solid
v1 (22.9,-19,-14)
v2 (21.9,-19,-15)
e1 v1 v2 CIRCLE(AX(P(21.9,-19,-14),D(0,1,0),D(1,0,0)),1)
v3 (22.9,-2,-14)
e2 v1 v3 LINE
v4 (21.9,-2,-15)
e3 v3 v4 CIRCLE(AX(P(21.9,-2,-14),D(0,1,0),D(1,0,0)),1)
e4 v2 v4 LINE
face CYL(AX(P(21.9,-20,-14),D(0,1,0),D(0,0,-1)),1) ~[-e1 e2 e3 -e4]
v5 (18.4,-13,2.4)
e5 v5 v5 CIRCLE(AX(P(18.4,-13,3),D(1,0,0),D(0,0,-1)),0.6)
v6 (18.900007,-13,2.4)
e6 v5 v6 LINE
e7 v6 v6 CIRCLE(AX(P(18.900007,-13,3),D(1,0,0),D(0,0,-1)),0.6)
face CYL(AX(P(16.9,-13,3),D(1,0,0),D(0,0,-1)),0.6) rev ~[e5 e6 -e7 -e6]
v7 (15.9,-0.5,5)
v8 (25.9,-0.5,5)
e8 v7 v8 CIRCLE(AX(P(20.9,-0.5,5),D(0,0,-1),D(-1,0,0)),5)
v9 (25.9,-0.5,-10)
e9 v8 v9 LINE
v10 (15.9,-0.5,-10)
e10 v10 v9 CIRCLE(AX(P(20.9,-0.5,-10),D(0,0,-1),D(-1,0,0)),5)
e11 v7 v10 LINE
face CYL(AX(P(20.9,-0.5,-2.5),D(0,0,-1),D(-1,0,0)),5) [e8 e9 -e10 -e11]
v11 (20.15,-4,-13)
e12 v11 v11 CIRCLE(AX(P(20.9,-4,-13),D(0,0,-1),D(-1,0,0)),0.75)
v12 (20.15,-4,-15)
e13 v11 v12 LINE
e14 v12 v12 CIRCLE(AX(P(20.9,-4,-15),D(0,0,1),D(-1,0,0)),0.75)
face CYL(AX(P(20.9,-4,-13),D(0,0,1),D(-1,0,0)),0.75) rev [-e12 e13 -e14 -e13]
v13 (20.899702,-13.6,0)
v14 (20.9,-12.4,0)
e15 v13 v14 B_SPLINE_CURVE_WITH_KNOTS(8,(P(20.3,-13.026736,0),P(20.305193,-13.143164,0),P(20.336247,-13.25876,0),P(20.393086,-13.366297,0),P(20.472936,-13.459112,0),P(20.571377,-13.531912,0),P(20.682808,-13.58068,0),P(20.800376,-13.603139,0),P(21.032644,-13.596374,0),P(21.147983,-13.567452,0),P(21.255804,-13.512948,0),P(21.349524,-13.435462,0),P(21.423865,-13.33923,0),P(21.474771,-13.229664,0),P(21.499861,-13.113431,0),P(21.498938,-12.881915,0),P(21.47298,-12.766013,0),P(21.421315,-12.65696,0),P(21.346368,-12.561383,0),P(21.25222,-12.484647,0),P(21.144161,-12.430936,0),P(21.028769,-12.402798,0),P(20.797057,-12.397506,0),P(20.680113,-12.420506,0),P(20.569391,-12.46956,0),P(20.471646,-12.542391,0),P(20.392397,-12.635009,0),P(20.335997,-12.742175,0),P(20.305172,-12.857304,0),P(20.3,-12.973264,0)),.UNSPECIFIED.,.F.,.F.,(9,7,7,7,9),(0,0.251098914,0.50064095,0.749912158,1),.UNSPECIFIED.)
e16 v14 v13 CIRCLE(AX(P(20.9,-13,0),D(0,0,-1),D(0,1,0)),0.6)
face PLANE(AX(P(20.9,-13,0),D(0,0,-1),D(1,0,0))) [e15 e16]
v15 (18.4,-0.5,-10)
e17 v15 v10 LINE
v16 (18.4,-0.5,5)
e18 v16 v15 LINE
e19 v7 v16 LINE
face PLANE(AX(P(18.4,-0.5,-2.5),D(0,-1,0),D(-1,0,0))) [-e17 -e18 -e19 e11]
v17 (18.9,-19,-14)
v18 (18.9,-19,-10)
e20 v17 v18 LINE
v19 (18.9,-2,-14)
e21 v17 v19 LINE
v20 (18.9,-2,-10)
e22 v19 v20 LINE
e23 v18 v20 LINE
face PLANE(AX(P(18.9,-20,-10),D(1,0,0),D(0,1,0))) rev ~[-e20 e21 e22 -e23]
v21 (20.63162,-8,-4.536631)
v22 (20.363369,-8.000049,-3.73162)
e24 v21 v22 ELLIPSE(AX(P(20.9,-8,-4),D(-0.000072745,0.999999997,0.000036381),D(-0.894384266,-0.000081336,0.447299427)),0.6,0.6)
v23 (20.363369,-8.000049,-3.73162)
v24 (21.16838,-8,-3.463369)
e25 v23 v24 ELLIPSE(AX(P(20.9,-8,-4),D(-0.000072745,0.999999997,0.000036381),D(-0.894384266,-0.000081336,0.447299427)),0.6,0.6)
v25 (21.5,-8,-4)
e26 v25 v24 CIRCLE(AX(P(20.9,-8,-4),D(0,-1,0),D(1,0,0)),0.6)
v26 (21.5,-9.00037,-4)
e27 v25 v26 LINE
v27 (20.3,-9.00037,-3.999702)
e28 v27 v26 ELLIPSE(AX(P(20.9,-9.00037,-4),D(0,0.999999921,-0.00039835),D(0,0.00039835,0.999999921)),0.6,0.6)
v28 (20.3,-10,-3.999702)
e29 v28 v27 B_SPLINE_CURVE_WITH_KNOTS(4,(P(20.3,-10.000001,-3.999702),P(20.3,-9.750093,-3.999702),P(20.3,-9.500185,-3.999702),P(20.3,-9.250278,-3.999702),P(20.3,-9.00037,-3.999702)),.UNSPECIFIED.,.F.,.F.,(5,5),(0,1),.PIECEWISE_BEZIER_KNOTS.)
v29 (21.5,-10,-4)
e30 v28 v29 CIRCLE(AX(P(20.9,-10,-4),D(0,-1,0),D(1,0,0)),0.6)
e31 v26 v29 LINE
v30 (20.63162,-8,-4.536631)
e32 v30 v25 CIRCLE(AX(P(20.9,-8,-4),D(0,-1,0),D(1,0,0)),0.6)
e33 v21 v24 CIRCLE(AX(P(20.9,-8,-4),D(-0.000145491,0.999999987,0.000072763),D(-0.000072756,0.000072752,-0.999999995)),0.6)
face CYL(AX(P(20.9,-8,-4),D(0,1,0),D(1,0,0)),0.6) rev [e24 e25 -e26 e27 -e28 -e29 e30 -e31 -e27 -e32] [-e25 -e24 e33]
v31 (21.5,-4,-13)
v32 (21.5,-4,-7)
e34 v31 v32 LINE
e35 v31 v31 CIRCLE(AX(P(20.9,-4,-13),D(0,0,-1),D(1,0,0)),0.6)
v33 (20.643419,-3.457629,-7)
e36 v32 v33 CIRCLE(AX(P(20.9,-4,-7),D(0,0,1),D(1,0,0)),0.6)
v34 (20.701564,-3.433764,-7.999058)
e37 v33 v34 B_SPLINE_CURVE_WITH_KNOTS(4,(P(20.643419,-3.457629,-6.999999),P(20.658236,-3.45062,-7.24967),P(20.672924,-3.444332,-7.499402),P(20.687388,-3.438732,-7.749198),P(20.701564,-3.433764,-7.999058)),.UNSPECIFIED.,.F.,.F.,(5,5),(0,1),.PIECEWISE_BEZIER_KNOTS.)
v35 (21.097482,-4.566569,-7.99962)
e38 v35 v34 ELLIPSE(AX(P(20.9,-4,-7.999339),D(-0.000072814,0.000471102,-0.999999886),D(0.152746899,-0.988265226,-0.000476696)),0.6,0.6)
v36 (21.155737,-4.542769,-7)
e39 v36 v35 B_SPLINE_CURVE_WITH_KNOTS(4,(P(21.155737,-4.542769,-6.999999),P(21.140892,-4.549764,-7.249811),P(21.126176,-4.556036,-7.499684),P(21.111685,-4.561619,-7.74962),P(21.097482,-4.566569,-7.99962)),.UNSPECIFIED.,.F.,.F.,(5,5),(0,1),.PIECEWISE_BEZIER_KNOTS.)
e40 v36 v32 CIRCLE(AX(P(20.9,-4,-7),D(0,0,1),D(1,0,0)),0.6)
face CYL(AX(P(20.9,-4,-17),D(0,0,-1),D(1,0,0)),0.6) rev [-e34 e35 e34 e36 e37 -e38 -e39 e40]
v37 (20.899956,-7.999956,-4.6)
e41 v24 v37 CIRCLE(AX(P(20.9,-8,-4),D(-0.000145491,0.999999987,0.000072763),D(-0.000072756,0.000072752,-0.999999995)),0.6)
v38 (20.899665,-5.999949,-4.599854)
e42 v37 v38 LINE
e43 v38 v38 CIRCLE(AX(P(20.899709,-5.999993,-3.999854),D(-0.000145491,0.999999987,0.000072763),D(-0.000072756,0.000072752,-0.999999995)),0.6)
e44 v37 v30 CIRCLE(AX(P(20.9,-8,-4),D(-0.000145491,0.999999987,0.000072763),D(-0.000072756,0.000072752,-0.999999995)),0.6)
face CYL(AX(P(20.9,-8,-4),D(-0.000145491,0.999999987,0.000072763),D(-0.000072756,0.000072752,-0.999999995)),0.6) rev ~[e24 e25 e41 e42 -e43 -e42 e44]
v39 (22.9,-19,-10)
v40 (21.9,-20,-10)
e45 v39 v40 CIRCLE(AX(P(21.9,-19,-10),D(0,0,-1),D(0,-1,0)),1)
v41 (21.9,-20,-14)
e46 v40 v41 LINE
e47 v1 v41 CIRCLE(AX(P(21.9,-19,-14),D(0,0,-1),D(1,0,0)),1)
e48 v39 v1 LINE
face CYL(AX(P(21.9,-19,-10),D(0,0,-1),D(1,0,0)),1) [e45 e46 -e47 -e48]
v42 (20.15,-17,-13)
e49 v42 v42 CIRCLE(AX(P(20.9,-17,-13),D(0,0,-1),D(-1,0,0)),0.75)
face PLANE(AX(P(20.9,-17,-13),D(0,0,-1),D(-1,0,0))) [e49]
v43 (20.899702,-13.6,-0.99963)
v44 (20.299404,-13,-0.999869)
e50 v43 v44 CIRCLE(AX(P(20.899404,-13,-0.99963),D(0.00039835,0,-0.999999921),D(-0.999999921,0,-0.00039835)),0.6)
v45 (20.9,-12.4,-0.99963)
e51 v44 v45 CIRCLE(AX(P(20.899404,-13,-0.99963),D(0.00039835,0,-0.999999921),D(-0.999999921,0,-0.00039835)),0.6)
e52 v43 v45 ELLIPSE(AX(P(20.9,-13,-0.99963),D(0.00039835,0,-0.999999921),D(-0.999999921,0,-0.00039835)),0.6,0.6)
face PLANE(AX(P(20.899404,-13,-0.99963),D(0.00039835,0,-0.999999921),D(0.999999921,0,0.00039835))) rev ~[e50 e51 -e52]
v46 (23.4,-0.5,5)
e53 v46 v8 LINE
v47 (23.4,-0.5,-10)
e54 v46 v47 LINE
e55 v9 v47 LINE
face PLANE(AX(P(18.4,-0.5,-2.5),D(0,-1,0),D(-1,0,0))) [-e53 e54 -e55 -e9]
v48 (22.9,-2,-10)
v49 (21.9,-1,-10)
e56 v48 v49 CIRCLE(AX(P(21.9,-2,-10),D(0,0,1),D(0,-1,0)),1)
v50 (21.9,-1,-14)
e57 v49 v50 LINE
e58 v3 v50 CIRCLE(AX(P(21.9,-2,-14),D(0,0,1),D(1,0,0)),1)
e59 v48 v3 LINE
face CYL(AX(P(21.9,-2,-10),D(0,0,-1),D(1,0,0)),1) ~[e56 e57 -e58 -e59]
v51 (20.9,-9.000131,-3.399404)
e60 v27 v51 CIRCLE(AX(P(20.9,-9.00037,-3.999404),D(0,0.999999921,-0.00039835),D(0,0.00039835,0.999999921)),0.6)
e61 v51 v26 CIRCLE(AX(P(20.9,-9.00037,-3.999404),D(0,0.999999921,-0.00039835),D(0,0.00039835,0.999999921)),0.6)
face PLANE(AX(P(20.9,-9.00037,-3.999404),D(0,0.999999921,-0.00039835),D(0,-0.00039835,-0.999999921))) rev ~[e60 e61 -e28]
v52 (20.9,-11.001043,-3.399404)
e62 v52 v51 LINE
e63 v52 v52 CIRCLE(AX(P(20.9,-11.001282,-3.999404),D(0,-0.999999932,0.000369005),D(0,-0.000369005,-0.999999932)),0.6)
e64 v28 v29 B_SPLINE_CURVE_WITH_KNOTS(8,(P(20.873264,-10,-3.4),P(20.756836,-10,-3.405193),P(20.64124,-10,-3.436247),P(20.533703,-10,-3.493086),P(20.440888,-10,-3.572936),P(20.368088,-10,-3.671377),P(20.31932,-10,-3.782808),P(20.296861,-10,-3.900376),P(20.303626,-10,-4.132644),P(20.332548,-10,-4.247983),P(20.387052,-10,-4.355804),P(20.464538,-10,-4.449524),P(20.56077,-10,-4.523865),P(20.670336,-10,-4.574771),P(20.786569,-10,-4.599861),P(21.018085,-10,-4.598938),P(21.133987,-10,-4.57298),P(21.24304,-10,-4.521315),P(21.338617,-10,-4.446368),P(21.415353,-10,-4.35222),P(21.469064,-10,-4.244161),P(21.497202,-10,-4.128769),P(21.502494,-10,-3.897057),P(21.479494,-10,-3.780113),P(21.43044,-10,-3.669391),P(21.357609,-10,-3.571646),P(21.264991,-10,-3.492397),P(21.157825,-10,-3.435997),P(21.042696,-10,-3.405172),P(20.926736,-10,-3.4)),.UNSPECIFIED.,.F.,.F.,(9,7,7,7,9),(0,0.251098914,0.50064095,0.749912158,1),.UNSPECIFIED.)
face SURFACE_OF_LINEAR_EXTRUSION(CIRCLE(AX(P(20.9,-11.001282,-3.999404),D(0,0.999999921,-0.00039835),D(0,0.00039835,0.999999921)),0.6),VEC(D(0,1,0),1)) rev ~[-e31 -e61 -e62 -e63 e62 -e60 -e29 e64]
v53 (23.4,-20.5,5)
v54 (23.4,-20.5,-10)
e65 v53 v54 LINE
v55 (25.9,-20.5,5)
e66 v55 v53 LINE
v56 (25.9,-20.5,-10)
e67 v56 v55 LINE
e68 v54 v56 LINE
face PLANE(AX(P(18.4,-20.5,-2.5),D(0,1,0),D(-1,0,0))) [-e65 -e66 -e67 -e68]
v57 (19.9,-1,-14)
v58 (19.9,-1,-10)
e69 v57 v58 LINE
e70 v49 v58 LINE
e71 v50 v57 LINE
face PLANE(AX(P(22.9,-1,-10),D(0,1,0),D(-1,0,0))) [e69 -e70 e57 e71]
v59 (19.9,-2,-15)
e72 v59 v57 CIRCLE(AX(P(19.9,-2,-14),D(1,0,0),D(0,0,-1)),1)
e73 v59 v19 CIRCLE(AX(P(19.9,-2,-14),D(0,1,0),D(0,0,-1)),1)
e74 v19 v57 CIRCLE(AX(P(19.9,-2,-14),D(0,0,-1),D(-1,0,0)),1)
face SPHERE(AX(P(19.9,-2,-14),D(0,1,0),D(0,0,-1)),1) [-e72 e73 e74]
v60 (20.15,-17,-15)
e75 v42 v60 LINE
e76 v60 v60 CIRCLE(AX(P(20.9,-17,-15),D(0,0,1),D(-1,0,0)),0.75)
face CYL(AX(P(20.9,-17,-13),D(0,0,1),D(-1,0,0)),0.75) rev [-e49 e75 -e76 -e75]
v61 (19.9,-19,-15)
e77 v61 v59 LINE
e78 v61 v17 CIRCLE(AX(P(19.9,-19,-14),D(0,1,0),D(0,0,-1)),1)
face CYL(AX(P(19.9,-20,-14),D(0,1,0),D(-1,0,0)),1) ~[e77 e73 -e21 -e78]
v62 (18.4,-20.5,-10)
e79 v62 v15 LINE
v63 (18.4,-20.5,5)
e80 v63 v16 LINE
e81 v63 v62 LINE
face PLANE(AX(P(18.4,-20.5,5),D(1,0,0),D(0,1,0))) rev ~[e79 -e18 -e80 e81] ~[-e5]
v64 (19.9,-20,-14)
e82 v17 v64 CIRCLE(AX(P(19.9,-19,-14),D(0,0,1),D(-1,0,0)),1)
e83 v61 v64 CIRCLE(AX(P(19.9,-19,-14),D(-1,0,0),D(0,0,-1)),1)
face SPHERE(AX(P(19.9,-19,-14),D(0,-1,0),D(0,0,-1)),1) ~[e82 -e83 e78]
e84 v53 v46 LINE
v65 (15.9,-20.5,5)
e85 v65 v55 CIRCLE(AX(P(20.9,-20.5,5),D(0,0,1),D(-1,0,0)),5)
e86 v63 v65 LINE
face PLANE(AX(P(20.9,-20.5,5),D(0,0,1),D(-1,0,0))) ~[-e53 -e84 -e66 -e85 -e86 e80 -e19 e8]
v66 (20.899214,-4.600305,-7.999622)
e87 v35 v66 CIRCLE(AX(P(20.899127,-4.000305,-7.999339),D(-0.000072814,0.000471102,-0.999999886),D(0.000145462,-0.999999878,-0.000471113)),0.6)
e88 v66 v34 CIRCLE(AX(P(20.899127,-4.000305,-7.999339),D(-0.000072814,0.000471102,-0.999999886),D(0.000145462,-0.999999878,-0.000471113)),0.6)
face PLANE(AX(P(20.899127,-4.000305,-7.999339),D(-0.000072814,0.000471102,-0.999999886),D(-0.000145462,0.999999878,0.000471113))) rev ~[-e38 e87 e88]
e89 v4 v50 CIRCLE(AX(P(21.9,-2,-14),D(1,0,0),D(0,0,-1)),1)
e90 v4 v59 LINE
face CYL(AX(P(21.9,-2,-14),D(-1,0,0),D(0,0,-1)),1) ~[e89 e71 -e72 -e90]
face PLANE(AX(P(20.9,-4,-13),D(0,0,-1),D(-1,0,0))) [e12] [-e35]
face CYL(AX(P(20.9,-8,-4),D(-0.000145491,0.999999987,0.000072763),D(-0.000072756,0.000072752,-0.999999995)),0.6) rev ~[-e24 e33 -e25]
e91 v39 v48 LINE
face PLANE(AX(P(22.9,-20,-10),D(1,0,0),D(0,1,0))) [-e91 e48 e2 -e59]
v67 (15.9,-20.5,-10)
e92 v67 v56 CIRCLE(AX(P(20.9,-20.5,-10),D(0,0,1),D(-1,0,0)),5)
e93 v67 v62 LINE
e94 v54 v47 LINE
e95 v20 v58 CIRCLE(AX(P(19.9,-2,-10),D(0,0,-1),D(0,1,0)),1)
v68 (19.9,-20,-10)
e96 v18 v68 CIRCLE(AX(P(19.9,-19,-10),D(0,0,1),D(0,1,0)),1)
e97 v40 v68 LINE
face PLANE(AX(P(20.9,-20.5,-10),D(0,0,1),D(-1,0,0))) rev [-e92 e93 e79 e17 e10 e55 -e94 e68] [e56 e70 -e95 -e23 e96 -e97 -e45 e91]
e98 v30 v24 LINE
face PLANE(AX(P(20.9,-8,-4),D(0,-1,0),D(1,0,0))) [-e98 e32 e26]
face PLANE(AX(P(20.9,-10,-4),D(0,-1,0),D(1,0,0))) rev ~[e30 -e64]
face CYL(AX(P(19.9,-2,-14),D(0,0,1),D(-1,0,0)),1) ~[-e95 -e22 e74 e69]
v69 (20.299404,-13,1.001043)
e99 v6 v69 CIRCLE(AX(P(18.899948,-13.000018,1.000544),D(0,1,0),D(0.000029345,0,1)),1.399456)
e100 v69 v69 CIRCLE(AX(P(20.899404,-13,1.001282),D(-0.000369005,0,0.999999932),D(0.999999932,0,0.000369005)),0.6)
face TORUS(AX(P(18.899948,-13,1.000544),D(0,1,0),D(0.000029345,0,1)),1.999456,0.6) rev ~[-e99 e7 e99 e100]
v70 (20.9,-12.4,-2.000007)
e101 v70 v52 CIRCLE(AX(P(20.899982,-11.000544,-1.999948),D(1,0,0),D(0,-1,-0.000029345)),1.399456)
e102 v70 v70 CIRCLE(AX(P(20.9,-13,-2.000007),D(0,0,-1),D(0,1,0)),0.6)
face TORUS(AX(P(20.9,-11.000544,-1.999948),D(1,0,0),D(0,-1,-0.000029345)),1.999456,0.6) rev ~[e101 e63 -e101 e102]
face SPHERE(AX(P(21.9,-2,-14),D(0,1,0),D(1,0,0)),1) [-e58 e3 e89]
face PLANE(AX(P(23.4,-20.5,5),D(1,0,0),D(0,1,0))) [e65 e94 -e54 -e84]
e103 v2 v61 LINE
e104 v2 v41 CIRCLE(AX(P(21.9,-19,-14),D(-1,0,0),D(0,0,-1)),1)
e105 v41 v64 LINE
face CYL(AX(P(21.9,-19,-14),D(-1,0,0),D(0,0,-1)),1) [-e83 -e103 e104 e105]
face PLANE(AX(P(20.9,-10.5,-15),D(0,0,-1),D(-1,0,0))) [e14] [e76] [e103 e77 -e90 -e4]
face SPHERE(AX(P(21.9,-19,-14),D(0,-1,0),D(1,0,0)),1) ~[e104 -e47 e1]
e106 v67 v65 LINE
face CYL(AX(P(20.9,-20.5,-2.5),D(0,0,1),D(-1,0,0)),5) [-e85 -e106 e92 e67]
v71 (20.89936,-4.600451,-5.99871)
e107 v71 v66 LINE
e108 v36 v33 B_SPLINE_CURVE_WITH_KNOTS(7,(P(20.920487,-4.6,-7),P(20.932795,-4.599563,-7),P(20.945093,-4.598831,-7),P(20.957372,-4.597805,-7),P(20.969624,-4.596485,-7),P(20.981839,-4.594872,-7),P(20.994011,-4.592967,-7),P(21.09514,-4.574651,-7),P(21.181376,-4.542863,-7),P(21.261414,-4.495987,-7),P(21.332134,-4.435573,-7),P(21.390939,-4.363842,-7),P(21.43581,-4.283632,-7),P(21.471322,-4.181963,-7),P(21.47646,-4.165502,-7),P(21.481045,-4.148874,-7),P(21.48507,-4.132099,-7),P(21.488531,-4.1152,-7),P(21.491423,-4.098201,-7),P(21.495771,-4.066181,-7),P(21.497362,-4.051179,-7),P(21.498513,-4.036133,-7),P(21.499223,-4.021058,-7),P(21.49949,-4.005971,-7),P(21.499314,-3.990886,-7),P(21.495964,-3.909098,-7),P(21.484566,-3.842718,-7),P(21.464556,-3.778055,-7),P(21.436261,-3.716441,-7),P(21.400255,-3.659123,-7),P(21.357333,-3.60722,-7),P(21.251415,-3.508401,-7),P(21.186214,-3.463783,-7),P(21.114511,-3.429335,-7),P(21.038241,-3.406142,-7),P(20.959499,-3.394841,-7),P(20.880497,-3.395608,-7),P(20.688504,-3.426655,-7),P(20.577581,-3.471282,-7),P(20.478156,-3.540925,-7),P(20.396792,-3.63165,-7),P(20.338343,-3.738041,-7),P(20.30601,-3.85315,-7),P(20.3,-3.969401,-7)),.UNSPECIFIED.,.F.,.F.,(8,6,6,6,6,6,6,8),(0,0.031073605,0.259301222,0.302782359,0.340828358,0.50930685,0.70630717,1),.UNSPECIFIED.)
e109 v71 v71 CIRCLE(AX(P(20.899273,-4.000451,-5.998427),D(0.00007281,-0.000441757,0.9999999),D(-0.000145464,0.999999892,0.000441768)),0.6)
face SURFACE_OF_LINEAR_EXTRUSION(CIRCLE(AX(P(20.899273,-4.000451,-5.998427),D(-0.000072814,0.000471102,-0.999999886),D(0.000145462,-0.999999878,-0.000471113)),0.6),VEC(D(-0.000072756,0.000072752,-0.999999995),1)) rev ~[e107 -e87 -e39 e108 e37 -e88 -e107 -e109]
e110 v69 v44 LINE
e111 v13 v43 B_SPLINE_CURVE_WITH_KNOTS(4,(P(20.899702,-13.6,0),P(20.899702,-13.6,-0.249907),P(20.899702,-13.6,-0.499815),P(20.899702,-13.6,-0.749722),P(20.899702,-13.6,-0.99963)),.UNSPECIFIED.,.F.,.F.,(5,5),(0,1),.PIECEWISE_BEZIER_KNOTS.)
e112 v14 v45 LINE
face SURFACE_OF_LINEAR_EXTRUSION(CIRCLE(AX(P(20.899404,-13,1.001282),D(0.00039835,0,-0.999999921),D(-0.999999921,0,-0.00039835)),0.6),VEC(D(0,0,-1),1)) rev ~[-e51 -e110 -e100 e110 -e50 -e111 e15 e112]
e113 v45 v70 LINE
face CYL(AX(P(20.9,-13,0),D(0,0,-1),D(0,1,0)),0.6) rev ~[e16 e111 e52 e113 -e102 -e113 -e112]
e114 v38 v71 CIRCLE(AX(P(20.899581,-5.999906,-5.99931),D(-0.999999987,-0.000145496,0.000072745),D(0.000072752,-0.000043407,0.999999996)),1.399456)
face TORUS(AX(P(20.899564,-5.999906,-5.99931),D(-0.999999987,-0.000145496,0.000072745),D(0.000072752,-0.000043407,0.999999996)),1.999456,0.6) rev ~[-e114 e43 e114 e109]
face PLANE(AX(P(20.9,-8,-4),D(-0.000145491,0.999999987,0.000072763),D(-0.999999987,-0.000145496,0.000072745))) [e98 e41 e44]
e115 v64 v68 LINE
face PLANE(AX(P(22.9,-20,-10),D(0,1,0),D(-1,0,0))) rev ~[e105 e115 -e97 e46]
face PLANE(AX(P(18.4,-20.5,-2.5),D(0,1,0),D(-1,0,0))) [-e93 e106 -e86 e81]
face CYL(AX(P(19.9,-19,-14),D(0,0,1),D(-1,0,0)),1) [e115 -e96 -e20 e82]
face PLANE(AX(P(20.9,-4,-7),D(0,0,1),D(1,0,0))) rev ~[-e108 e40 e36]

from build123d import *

# Parameters (mm, degrees)
CYLINDER045_R                = 0.6
CYLINDER045_DEPTH            = 10
CYLINDER044_R                = 0.6
CYLINDER044_DEPTH            = 2
CYLINDER044_ROLL_ANGLE       = 90
SKETCH016_R                  = 0.6
SWEEP007_PITCH_ANGLE         = 90
SKETCH014_R                  = 0.6
SWEEP006_ROLL_ANGLE          = -90
SKETCH018_R                  = 0.6
SWEEP008_ROLL_ANGLE          = -89.995832
SWEEP008_PITCH_ANGLE         = -0.004169
SWEEP008_PLACEMENT_ANGLE     = 90.008336
CYLINDER018_W                = 5
CYLINDER018_H                = 15
CYLINDER018_ANGLE            = 180
CYLINDER019_W                = 5
CYLINDER019_H                = 15
CYLINDER019_ANGLE            = 180
CYLINDER043_R                = 0.75
CYLINDER043_DEPTH            = 10
CYLINDER042_R                = 0.75
CYLINDER042_DEPTH            = 10
BOX019_W                     = 4
BOX019_H                     = 19
BOX019_DEPTH                 = 5
FILLET004_R                  = 1
FILLET005_R                  = 1
FILLET006_R                  = 1
FILLET007_R                  = 1
BOX018_W                     = 5
BOX018_H                     = 20
BOX018_DEPTH                 = 15
FUSION002013_PLACEMENT_ANGLE = 180


with BuildPart() as cilindro045:
    # Cylinder045 → Cylinder045 (new body)
    with BuildSketch(Plane(origin=(22, -4, -17), x_dir=(1, 0, 0), z_dir=(0, 0, 1))):
        Circle(CYLINDER045_R)
    extrude(amount=CYLINDER045_DEPTH)


with BuildPart() as cilindro044:
    # Cylinder044 → Cylinder044 (new body)
    with BuildSketch(Plane.XY):
        Circle(CYLINDER044_R)
    extrude(amount=CYLINDER044_DEPTH)


with BuildPart() as cilindro044_1:
    # Cylinder044 roll: moved
    add(cilindro044.part.rotate(Axis((0, 0, 0), (1, 0, 0)), CYLINDER044_ROLL_ANGLE))


with BuildPart() as cilindro044_2:
    # Cylinder044 placement: moved
    add(cilindro044_1.part.moved(Location((22, -8, -4))))


with BuildPart() as sweep007:
    # Sweep007: sweep along a path in Sketch015
    with BuildLine(Plane.XY) as sweep007_path:
        Line((0, 0), (2.000007, 0))
        ThreePointArc((2.000007, 0), (3.413537, 0.585387), (3.999404, 1.998718))
        Line((3.999404, 1.998718), (3.999404, 3.99963))
    # Sketch016 → Sweep007 (sweep)
    with BuildSketch(Plane.YZ):
        Circle(SKETCH016_R)
    sweep(path=sweep007_path.line, transition=Transition.RIGHT)


with BuildPart() as sweep007_1:
    # Sweep007 pitch: moved
    add(sweep007.part.rotate(Axis((0, 0, 0), (0, 1, 0)), SWEEP007_PITCH_ANGLE))


with BuildPart() as sweep007_2:
    # Sweep007 placement: moved
    add(sweep007_1.part.moved(Location((22, -13, 0))))


with BuildPart() as sweep006:
    # Sweep006: sweep along a path in Sketch013
    with BuildLine(Plane.XY) as sweep006_path:
        Line((0, 0), (2.000007, 0))
        ThreePointArc((2.000007, 0), (3.413537, 0.585387), (3.999404, 1.998718))
        Line((3.999404, 1.998718), (3.999404, 3.99963))
    # Sketch014 → Sweep006 (sweep)
    with BuildSketch(Plane.YZ):
        Circle(SKETCH014_R)
    sweep(path=sweep006_path.line, transition=Transition.RIGHT)


with BuildPart() as sweep006_1:
    # Sweep006 roll: moved
    add(sweep006.part.rotate(Axis((0, 0, 0), (1, 0, 0)), SWEEP006_ROLL_ANGLE))


with BuildPart() as sweep006_2:
    # Sweep006 placement: moved
    add(sweep006_1.part.moved(Location((18, -13, 3))))


with BuildPart() as fusion002014:
    # Sweep008: sweep along a path in Sketch017
    with BuildLine(Plane.XY) as sweep008_path:
        Line((0, 0), (2.000007, 0))
        ThreePointArc((2.000007, 0), (3.413537, 0.585387), (3.999404, 1.998718))
        Line((3.999404, 1.998718), (3.999404, 3.99963))
    # Sketch018 → Sweep008 (sweep)
    with BuildSketch(Plane.YZ):
        Circle(SKETCH018_R)
    sweep(path=sweep008_path.line, transition=Transition.RIGHT)


with BuildPart() as fusion002014_1:
    # Sweep008 roll: moved
    add(fusion002014.part.rotate(Axis((0, 0, 0), (1, 0, 0)), SWEEP008_ROLL_ANGLE))


with BuildPart() as fusion002014_2:
    # Sweep008 pitch: moved
    add(fusion002014_1.part.rotate(Axis((0, 0, 0), (0, 1, 0)), SWEEP008_PITCH_ANGLE))


with BuildPart() as fusion002014_3:
    # Sweep008 placement: moved
    add(fusion002014_2.part.moved(Location((22, -8, -4))).rotate(Axis((22, -8, -4), (0, 0, 1)), SWEEP008_PLACEMENT_ANGLE))

    # Fusion002014: union Cilindro045, Cilindro044, Sweep007, Sweep006
    add(cilindro045.part)
    add(cilindro044_2.part)
    add(sweep007_2.part)
    add(sweep006_2.part)


with BuildPart() as fusion002014_4:
    # Fusion002014 placement: moved
    add(fusion002014_3.part.moved(Location((-1.1, 0, 0))))


with BuildPart() as cilindro018:
    # Cylinder018 → Cylinder018 (revolve)
    with BuildSketch(Plane(origin=(21.5, 76, -4), x_dir=(1, 0, 0), z_dir=(0, -1, 0))):
        with Locations((2.5, 7.5)):
            Rectangle(CYLINDER018_W, CYLINDER018_H)
    revolve(axis=Axis((21.5, 76, -4), (0, 0, 1)), revolution_arc=CYLINDER018_ANGLE)


with BuildPart() as cilindro019:
    # Cylinder019 → Cylinder019 (revolve)
    with BuildSketch(Plane(origin=(21.5, 56, 11), x_dir=(1, 0, 0), z_dir=(0, 1, 0))):
        with Locations((2.5, 7.5)):
            Rectangle(CYLINDER019_W, CYLINDER019_H)
    revolve(axis=Axis((21.5, 56, 11), (0, 0, -1)), revolution_arc=CYLINDER019_ANGLE)


with BuildPart() as cilindro043:
    # Cylinder043 → Cylinder043 (new body)
    with BuildSketch(Plane(origin=(-39, 66, 48), x_dir=(1, 0, 0), z_dir=(0, 0, 1))):
        Circle(CYLINDER043_R)
    extrude(amount=CYLINDER043_DEPTH)


with BuildPart() as cilindro042:
    # Cylinder042 → Cylinder042 (new body)
    with BuildSketch(Plane(origin=(-39, 53, 48), x_dir=(1, 0, 0), z_dir=(0, 0, 1))):
        Circle(CYLINDER042_R)
    extrude(amount=CYLINDER042_DEPTH)


with BuildPart() as cut063:
    # Box019 → Box019 (new body)
    with BuildSketch(Plane(origin=(-2, 50, 45), x_dir=(1, 0, 0), z_dir=(0, 0, 1))):
        with Locations((2, 9.5)):
            Rectangle(BOX019_W, BOX019_H)
    extrude(amount=BOX019_DEPTH)

    # Fillet004
    fillet004_edges = [cut063.edges().sort_by_distance(p)[0] for p in [
        (2, 59.5, 50),
    ]]
    fillet(fillet004_edges, radius=FILLET004_R)

    # Fillet005
    fillet005_edges = [cut063.edges().sort_by_distance(p)[0] for p in [
        (-2, 59.5, 50),
    ]]
    fillet(fillet005_edges, radius=FILLET005_R)

    # Fillet006
    fillet006_edges = [cut063.edges().sort_by_distance(p)[0] for p in [
        (0, 69, 50),
    ]]
    fillet(fillet006_edges, radius=FILLET006_R)

    # Fillet007
    fillet007_edges = [cut063.edges().sort_by_distance(p)[0] for p in [
        (0, 50, 50),
    ]]
    fillet(fillet007_edges, radius=FILLET007_R)


with BuildPart() as cut063_1:
    # Fillet007 placement: moved
    add(cut063.part.moved(Location((-39, 0, 0))))

    # Cut062: cut Cilindro042
    add(cilindro042.part, mode=Mode.SUBTRACT)

    # Cut063: cut Cilindro043
    add(cilindro043.part, mode=Mode.SUBTRACT)


with BuildPart() as cut063_2:
    # Cut063 placement: moved
    add(cut063_1.part.moved(Location((60.5, 6.5, -34))))


with BuildPart() as cut064:
    # Box018 → Box018 (new body)
    with BuildSketch(Plane(origin=(19, 56, -4), x_dir=(1, 0, 0), z_dir=(0, 0, 1))):
        with Locations((2.5, 10)):
            Rectangle(BOX018_W, BOX018_H)
    extrude(amount=BOX018_DEPTH)

    # Fusion002013: union Cilindro018, Cilindro019, Cut063
    add(cilindro018.part)
    add(cilindro019.part)
    add(cut063_2.part)


with BuildPart() as cut064_1:
    # Fusion002013 placement: moved
    add(cut064.part.moved(Location((42.4, -76.5, 1))).rotate(Axis((42.4, -76.5, 1), (0, 1, 0)), FUSION002013_PLACEMENT_ANGLE))

    # Cut064: cut Fusion002014
    add(fusion002014_4.part, mode=Mode.SUBTRACT)


solid = cut064_1.part
